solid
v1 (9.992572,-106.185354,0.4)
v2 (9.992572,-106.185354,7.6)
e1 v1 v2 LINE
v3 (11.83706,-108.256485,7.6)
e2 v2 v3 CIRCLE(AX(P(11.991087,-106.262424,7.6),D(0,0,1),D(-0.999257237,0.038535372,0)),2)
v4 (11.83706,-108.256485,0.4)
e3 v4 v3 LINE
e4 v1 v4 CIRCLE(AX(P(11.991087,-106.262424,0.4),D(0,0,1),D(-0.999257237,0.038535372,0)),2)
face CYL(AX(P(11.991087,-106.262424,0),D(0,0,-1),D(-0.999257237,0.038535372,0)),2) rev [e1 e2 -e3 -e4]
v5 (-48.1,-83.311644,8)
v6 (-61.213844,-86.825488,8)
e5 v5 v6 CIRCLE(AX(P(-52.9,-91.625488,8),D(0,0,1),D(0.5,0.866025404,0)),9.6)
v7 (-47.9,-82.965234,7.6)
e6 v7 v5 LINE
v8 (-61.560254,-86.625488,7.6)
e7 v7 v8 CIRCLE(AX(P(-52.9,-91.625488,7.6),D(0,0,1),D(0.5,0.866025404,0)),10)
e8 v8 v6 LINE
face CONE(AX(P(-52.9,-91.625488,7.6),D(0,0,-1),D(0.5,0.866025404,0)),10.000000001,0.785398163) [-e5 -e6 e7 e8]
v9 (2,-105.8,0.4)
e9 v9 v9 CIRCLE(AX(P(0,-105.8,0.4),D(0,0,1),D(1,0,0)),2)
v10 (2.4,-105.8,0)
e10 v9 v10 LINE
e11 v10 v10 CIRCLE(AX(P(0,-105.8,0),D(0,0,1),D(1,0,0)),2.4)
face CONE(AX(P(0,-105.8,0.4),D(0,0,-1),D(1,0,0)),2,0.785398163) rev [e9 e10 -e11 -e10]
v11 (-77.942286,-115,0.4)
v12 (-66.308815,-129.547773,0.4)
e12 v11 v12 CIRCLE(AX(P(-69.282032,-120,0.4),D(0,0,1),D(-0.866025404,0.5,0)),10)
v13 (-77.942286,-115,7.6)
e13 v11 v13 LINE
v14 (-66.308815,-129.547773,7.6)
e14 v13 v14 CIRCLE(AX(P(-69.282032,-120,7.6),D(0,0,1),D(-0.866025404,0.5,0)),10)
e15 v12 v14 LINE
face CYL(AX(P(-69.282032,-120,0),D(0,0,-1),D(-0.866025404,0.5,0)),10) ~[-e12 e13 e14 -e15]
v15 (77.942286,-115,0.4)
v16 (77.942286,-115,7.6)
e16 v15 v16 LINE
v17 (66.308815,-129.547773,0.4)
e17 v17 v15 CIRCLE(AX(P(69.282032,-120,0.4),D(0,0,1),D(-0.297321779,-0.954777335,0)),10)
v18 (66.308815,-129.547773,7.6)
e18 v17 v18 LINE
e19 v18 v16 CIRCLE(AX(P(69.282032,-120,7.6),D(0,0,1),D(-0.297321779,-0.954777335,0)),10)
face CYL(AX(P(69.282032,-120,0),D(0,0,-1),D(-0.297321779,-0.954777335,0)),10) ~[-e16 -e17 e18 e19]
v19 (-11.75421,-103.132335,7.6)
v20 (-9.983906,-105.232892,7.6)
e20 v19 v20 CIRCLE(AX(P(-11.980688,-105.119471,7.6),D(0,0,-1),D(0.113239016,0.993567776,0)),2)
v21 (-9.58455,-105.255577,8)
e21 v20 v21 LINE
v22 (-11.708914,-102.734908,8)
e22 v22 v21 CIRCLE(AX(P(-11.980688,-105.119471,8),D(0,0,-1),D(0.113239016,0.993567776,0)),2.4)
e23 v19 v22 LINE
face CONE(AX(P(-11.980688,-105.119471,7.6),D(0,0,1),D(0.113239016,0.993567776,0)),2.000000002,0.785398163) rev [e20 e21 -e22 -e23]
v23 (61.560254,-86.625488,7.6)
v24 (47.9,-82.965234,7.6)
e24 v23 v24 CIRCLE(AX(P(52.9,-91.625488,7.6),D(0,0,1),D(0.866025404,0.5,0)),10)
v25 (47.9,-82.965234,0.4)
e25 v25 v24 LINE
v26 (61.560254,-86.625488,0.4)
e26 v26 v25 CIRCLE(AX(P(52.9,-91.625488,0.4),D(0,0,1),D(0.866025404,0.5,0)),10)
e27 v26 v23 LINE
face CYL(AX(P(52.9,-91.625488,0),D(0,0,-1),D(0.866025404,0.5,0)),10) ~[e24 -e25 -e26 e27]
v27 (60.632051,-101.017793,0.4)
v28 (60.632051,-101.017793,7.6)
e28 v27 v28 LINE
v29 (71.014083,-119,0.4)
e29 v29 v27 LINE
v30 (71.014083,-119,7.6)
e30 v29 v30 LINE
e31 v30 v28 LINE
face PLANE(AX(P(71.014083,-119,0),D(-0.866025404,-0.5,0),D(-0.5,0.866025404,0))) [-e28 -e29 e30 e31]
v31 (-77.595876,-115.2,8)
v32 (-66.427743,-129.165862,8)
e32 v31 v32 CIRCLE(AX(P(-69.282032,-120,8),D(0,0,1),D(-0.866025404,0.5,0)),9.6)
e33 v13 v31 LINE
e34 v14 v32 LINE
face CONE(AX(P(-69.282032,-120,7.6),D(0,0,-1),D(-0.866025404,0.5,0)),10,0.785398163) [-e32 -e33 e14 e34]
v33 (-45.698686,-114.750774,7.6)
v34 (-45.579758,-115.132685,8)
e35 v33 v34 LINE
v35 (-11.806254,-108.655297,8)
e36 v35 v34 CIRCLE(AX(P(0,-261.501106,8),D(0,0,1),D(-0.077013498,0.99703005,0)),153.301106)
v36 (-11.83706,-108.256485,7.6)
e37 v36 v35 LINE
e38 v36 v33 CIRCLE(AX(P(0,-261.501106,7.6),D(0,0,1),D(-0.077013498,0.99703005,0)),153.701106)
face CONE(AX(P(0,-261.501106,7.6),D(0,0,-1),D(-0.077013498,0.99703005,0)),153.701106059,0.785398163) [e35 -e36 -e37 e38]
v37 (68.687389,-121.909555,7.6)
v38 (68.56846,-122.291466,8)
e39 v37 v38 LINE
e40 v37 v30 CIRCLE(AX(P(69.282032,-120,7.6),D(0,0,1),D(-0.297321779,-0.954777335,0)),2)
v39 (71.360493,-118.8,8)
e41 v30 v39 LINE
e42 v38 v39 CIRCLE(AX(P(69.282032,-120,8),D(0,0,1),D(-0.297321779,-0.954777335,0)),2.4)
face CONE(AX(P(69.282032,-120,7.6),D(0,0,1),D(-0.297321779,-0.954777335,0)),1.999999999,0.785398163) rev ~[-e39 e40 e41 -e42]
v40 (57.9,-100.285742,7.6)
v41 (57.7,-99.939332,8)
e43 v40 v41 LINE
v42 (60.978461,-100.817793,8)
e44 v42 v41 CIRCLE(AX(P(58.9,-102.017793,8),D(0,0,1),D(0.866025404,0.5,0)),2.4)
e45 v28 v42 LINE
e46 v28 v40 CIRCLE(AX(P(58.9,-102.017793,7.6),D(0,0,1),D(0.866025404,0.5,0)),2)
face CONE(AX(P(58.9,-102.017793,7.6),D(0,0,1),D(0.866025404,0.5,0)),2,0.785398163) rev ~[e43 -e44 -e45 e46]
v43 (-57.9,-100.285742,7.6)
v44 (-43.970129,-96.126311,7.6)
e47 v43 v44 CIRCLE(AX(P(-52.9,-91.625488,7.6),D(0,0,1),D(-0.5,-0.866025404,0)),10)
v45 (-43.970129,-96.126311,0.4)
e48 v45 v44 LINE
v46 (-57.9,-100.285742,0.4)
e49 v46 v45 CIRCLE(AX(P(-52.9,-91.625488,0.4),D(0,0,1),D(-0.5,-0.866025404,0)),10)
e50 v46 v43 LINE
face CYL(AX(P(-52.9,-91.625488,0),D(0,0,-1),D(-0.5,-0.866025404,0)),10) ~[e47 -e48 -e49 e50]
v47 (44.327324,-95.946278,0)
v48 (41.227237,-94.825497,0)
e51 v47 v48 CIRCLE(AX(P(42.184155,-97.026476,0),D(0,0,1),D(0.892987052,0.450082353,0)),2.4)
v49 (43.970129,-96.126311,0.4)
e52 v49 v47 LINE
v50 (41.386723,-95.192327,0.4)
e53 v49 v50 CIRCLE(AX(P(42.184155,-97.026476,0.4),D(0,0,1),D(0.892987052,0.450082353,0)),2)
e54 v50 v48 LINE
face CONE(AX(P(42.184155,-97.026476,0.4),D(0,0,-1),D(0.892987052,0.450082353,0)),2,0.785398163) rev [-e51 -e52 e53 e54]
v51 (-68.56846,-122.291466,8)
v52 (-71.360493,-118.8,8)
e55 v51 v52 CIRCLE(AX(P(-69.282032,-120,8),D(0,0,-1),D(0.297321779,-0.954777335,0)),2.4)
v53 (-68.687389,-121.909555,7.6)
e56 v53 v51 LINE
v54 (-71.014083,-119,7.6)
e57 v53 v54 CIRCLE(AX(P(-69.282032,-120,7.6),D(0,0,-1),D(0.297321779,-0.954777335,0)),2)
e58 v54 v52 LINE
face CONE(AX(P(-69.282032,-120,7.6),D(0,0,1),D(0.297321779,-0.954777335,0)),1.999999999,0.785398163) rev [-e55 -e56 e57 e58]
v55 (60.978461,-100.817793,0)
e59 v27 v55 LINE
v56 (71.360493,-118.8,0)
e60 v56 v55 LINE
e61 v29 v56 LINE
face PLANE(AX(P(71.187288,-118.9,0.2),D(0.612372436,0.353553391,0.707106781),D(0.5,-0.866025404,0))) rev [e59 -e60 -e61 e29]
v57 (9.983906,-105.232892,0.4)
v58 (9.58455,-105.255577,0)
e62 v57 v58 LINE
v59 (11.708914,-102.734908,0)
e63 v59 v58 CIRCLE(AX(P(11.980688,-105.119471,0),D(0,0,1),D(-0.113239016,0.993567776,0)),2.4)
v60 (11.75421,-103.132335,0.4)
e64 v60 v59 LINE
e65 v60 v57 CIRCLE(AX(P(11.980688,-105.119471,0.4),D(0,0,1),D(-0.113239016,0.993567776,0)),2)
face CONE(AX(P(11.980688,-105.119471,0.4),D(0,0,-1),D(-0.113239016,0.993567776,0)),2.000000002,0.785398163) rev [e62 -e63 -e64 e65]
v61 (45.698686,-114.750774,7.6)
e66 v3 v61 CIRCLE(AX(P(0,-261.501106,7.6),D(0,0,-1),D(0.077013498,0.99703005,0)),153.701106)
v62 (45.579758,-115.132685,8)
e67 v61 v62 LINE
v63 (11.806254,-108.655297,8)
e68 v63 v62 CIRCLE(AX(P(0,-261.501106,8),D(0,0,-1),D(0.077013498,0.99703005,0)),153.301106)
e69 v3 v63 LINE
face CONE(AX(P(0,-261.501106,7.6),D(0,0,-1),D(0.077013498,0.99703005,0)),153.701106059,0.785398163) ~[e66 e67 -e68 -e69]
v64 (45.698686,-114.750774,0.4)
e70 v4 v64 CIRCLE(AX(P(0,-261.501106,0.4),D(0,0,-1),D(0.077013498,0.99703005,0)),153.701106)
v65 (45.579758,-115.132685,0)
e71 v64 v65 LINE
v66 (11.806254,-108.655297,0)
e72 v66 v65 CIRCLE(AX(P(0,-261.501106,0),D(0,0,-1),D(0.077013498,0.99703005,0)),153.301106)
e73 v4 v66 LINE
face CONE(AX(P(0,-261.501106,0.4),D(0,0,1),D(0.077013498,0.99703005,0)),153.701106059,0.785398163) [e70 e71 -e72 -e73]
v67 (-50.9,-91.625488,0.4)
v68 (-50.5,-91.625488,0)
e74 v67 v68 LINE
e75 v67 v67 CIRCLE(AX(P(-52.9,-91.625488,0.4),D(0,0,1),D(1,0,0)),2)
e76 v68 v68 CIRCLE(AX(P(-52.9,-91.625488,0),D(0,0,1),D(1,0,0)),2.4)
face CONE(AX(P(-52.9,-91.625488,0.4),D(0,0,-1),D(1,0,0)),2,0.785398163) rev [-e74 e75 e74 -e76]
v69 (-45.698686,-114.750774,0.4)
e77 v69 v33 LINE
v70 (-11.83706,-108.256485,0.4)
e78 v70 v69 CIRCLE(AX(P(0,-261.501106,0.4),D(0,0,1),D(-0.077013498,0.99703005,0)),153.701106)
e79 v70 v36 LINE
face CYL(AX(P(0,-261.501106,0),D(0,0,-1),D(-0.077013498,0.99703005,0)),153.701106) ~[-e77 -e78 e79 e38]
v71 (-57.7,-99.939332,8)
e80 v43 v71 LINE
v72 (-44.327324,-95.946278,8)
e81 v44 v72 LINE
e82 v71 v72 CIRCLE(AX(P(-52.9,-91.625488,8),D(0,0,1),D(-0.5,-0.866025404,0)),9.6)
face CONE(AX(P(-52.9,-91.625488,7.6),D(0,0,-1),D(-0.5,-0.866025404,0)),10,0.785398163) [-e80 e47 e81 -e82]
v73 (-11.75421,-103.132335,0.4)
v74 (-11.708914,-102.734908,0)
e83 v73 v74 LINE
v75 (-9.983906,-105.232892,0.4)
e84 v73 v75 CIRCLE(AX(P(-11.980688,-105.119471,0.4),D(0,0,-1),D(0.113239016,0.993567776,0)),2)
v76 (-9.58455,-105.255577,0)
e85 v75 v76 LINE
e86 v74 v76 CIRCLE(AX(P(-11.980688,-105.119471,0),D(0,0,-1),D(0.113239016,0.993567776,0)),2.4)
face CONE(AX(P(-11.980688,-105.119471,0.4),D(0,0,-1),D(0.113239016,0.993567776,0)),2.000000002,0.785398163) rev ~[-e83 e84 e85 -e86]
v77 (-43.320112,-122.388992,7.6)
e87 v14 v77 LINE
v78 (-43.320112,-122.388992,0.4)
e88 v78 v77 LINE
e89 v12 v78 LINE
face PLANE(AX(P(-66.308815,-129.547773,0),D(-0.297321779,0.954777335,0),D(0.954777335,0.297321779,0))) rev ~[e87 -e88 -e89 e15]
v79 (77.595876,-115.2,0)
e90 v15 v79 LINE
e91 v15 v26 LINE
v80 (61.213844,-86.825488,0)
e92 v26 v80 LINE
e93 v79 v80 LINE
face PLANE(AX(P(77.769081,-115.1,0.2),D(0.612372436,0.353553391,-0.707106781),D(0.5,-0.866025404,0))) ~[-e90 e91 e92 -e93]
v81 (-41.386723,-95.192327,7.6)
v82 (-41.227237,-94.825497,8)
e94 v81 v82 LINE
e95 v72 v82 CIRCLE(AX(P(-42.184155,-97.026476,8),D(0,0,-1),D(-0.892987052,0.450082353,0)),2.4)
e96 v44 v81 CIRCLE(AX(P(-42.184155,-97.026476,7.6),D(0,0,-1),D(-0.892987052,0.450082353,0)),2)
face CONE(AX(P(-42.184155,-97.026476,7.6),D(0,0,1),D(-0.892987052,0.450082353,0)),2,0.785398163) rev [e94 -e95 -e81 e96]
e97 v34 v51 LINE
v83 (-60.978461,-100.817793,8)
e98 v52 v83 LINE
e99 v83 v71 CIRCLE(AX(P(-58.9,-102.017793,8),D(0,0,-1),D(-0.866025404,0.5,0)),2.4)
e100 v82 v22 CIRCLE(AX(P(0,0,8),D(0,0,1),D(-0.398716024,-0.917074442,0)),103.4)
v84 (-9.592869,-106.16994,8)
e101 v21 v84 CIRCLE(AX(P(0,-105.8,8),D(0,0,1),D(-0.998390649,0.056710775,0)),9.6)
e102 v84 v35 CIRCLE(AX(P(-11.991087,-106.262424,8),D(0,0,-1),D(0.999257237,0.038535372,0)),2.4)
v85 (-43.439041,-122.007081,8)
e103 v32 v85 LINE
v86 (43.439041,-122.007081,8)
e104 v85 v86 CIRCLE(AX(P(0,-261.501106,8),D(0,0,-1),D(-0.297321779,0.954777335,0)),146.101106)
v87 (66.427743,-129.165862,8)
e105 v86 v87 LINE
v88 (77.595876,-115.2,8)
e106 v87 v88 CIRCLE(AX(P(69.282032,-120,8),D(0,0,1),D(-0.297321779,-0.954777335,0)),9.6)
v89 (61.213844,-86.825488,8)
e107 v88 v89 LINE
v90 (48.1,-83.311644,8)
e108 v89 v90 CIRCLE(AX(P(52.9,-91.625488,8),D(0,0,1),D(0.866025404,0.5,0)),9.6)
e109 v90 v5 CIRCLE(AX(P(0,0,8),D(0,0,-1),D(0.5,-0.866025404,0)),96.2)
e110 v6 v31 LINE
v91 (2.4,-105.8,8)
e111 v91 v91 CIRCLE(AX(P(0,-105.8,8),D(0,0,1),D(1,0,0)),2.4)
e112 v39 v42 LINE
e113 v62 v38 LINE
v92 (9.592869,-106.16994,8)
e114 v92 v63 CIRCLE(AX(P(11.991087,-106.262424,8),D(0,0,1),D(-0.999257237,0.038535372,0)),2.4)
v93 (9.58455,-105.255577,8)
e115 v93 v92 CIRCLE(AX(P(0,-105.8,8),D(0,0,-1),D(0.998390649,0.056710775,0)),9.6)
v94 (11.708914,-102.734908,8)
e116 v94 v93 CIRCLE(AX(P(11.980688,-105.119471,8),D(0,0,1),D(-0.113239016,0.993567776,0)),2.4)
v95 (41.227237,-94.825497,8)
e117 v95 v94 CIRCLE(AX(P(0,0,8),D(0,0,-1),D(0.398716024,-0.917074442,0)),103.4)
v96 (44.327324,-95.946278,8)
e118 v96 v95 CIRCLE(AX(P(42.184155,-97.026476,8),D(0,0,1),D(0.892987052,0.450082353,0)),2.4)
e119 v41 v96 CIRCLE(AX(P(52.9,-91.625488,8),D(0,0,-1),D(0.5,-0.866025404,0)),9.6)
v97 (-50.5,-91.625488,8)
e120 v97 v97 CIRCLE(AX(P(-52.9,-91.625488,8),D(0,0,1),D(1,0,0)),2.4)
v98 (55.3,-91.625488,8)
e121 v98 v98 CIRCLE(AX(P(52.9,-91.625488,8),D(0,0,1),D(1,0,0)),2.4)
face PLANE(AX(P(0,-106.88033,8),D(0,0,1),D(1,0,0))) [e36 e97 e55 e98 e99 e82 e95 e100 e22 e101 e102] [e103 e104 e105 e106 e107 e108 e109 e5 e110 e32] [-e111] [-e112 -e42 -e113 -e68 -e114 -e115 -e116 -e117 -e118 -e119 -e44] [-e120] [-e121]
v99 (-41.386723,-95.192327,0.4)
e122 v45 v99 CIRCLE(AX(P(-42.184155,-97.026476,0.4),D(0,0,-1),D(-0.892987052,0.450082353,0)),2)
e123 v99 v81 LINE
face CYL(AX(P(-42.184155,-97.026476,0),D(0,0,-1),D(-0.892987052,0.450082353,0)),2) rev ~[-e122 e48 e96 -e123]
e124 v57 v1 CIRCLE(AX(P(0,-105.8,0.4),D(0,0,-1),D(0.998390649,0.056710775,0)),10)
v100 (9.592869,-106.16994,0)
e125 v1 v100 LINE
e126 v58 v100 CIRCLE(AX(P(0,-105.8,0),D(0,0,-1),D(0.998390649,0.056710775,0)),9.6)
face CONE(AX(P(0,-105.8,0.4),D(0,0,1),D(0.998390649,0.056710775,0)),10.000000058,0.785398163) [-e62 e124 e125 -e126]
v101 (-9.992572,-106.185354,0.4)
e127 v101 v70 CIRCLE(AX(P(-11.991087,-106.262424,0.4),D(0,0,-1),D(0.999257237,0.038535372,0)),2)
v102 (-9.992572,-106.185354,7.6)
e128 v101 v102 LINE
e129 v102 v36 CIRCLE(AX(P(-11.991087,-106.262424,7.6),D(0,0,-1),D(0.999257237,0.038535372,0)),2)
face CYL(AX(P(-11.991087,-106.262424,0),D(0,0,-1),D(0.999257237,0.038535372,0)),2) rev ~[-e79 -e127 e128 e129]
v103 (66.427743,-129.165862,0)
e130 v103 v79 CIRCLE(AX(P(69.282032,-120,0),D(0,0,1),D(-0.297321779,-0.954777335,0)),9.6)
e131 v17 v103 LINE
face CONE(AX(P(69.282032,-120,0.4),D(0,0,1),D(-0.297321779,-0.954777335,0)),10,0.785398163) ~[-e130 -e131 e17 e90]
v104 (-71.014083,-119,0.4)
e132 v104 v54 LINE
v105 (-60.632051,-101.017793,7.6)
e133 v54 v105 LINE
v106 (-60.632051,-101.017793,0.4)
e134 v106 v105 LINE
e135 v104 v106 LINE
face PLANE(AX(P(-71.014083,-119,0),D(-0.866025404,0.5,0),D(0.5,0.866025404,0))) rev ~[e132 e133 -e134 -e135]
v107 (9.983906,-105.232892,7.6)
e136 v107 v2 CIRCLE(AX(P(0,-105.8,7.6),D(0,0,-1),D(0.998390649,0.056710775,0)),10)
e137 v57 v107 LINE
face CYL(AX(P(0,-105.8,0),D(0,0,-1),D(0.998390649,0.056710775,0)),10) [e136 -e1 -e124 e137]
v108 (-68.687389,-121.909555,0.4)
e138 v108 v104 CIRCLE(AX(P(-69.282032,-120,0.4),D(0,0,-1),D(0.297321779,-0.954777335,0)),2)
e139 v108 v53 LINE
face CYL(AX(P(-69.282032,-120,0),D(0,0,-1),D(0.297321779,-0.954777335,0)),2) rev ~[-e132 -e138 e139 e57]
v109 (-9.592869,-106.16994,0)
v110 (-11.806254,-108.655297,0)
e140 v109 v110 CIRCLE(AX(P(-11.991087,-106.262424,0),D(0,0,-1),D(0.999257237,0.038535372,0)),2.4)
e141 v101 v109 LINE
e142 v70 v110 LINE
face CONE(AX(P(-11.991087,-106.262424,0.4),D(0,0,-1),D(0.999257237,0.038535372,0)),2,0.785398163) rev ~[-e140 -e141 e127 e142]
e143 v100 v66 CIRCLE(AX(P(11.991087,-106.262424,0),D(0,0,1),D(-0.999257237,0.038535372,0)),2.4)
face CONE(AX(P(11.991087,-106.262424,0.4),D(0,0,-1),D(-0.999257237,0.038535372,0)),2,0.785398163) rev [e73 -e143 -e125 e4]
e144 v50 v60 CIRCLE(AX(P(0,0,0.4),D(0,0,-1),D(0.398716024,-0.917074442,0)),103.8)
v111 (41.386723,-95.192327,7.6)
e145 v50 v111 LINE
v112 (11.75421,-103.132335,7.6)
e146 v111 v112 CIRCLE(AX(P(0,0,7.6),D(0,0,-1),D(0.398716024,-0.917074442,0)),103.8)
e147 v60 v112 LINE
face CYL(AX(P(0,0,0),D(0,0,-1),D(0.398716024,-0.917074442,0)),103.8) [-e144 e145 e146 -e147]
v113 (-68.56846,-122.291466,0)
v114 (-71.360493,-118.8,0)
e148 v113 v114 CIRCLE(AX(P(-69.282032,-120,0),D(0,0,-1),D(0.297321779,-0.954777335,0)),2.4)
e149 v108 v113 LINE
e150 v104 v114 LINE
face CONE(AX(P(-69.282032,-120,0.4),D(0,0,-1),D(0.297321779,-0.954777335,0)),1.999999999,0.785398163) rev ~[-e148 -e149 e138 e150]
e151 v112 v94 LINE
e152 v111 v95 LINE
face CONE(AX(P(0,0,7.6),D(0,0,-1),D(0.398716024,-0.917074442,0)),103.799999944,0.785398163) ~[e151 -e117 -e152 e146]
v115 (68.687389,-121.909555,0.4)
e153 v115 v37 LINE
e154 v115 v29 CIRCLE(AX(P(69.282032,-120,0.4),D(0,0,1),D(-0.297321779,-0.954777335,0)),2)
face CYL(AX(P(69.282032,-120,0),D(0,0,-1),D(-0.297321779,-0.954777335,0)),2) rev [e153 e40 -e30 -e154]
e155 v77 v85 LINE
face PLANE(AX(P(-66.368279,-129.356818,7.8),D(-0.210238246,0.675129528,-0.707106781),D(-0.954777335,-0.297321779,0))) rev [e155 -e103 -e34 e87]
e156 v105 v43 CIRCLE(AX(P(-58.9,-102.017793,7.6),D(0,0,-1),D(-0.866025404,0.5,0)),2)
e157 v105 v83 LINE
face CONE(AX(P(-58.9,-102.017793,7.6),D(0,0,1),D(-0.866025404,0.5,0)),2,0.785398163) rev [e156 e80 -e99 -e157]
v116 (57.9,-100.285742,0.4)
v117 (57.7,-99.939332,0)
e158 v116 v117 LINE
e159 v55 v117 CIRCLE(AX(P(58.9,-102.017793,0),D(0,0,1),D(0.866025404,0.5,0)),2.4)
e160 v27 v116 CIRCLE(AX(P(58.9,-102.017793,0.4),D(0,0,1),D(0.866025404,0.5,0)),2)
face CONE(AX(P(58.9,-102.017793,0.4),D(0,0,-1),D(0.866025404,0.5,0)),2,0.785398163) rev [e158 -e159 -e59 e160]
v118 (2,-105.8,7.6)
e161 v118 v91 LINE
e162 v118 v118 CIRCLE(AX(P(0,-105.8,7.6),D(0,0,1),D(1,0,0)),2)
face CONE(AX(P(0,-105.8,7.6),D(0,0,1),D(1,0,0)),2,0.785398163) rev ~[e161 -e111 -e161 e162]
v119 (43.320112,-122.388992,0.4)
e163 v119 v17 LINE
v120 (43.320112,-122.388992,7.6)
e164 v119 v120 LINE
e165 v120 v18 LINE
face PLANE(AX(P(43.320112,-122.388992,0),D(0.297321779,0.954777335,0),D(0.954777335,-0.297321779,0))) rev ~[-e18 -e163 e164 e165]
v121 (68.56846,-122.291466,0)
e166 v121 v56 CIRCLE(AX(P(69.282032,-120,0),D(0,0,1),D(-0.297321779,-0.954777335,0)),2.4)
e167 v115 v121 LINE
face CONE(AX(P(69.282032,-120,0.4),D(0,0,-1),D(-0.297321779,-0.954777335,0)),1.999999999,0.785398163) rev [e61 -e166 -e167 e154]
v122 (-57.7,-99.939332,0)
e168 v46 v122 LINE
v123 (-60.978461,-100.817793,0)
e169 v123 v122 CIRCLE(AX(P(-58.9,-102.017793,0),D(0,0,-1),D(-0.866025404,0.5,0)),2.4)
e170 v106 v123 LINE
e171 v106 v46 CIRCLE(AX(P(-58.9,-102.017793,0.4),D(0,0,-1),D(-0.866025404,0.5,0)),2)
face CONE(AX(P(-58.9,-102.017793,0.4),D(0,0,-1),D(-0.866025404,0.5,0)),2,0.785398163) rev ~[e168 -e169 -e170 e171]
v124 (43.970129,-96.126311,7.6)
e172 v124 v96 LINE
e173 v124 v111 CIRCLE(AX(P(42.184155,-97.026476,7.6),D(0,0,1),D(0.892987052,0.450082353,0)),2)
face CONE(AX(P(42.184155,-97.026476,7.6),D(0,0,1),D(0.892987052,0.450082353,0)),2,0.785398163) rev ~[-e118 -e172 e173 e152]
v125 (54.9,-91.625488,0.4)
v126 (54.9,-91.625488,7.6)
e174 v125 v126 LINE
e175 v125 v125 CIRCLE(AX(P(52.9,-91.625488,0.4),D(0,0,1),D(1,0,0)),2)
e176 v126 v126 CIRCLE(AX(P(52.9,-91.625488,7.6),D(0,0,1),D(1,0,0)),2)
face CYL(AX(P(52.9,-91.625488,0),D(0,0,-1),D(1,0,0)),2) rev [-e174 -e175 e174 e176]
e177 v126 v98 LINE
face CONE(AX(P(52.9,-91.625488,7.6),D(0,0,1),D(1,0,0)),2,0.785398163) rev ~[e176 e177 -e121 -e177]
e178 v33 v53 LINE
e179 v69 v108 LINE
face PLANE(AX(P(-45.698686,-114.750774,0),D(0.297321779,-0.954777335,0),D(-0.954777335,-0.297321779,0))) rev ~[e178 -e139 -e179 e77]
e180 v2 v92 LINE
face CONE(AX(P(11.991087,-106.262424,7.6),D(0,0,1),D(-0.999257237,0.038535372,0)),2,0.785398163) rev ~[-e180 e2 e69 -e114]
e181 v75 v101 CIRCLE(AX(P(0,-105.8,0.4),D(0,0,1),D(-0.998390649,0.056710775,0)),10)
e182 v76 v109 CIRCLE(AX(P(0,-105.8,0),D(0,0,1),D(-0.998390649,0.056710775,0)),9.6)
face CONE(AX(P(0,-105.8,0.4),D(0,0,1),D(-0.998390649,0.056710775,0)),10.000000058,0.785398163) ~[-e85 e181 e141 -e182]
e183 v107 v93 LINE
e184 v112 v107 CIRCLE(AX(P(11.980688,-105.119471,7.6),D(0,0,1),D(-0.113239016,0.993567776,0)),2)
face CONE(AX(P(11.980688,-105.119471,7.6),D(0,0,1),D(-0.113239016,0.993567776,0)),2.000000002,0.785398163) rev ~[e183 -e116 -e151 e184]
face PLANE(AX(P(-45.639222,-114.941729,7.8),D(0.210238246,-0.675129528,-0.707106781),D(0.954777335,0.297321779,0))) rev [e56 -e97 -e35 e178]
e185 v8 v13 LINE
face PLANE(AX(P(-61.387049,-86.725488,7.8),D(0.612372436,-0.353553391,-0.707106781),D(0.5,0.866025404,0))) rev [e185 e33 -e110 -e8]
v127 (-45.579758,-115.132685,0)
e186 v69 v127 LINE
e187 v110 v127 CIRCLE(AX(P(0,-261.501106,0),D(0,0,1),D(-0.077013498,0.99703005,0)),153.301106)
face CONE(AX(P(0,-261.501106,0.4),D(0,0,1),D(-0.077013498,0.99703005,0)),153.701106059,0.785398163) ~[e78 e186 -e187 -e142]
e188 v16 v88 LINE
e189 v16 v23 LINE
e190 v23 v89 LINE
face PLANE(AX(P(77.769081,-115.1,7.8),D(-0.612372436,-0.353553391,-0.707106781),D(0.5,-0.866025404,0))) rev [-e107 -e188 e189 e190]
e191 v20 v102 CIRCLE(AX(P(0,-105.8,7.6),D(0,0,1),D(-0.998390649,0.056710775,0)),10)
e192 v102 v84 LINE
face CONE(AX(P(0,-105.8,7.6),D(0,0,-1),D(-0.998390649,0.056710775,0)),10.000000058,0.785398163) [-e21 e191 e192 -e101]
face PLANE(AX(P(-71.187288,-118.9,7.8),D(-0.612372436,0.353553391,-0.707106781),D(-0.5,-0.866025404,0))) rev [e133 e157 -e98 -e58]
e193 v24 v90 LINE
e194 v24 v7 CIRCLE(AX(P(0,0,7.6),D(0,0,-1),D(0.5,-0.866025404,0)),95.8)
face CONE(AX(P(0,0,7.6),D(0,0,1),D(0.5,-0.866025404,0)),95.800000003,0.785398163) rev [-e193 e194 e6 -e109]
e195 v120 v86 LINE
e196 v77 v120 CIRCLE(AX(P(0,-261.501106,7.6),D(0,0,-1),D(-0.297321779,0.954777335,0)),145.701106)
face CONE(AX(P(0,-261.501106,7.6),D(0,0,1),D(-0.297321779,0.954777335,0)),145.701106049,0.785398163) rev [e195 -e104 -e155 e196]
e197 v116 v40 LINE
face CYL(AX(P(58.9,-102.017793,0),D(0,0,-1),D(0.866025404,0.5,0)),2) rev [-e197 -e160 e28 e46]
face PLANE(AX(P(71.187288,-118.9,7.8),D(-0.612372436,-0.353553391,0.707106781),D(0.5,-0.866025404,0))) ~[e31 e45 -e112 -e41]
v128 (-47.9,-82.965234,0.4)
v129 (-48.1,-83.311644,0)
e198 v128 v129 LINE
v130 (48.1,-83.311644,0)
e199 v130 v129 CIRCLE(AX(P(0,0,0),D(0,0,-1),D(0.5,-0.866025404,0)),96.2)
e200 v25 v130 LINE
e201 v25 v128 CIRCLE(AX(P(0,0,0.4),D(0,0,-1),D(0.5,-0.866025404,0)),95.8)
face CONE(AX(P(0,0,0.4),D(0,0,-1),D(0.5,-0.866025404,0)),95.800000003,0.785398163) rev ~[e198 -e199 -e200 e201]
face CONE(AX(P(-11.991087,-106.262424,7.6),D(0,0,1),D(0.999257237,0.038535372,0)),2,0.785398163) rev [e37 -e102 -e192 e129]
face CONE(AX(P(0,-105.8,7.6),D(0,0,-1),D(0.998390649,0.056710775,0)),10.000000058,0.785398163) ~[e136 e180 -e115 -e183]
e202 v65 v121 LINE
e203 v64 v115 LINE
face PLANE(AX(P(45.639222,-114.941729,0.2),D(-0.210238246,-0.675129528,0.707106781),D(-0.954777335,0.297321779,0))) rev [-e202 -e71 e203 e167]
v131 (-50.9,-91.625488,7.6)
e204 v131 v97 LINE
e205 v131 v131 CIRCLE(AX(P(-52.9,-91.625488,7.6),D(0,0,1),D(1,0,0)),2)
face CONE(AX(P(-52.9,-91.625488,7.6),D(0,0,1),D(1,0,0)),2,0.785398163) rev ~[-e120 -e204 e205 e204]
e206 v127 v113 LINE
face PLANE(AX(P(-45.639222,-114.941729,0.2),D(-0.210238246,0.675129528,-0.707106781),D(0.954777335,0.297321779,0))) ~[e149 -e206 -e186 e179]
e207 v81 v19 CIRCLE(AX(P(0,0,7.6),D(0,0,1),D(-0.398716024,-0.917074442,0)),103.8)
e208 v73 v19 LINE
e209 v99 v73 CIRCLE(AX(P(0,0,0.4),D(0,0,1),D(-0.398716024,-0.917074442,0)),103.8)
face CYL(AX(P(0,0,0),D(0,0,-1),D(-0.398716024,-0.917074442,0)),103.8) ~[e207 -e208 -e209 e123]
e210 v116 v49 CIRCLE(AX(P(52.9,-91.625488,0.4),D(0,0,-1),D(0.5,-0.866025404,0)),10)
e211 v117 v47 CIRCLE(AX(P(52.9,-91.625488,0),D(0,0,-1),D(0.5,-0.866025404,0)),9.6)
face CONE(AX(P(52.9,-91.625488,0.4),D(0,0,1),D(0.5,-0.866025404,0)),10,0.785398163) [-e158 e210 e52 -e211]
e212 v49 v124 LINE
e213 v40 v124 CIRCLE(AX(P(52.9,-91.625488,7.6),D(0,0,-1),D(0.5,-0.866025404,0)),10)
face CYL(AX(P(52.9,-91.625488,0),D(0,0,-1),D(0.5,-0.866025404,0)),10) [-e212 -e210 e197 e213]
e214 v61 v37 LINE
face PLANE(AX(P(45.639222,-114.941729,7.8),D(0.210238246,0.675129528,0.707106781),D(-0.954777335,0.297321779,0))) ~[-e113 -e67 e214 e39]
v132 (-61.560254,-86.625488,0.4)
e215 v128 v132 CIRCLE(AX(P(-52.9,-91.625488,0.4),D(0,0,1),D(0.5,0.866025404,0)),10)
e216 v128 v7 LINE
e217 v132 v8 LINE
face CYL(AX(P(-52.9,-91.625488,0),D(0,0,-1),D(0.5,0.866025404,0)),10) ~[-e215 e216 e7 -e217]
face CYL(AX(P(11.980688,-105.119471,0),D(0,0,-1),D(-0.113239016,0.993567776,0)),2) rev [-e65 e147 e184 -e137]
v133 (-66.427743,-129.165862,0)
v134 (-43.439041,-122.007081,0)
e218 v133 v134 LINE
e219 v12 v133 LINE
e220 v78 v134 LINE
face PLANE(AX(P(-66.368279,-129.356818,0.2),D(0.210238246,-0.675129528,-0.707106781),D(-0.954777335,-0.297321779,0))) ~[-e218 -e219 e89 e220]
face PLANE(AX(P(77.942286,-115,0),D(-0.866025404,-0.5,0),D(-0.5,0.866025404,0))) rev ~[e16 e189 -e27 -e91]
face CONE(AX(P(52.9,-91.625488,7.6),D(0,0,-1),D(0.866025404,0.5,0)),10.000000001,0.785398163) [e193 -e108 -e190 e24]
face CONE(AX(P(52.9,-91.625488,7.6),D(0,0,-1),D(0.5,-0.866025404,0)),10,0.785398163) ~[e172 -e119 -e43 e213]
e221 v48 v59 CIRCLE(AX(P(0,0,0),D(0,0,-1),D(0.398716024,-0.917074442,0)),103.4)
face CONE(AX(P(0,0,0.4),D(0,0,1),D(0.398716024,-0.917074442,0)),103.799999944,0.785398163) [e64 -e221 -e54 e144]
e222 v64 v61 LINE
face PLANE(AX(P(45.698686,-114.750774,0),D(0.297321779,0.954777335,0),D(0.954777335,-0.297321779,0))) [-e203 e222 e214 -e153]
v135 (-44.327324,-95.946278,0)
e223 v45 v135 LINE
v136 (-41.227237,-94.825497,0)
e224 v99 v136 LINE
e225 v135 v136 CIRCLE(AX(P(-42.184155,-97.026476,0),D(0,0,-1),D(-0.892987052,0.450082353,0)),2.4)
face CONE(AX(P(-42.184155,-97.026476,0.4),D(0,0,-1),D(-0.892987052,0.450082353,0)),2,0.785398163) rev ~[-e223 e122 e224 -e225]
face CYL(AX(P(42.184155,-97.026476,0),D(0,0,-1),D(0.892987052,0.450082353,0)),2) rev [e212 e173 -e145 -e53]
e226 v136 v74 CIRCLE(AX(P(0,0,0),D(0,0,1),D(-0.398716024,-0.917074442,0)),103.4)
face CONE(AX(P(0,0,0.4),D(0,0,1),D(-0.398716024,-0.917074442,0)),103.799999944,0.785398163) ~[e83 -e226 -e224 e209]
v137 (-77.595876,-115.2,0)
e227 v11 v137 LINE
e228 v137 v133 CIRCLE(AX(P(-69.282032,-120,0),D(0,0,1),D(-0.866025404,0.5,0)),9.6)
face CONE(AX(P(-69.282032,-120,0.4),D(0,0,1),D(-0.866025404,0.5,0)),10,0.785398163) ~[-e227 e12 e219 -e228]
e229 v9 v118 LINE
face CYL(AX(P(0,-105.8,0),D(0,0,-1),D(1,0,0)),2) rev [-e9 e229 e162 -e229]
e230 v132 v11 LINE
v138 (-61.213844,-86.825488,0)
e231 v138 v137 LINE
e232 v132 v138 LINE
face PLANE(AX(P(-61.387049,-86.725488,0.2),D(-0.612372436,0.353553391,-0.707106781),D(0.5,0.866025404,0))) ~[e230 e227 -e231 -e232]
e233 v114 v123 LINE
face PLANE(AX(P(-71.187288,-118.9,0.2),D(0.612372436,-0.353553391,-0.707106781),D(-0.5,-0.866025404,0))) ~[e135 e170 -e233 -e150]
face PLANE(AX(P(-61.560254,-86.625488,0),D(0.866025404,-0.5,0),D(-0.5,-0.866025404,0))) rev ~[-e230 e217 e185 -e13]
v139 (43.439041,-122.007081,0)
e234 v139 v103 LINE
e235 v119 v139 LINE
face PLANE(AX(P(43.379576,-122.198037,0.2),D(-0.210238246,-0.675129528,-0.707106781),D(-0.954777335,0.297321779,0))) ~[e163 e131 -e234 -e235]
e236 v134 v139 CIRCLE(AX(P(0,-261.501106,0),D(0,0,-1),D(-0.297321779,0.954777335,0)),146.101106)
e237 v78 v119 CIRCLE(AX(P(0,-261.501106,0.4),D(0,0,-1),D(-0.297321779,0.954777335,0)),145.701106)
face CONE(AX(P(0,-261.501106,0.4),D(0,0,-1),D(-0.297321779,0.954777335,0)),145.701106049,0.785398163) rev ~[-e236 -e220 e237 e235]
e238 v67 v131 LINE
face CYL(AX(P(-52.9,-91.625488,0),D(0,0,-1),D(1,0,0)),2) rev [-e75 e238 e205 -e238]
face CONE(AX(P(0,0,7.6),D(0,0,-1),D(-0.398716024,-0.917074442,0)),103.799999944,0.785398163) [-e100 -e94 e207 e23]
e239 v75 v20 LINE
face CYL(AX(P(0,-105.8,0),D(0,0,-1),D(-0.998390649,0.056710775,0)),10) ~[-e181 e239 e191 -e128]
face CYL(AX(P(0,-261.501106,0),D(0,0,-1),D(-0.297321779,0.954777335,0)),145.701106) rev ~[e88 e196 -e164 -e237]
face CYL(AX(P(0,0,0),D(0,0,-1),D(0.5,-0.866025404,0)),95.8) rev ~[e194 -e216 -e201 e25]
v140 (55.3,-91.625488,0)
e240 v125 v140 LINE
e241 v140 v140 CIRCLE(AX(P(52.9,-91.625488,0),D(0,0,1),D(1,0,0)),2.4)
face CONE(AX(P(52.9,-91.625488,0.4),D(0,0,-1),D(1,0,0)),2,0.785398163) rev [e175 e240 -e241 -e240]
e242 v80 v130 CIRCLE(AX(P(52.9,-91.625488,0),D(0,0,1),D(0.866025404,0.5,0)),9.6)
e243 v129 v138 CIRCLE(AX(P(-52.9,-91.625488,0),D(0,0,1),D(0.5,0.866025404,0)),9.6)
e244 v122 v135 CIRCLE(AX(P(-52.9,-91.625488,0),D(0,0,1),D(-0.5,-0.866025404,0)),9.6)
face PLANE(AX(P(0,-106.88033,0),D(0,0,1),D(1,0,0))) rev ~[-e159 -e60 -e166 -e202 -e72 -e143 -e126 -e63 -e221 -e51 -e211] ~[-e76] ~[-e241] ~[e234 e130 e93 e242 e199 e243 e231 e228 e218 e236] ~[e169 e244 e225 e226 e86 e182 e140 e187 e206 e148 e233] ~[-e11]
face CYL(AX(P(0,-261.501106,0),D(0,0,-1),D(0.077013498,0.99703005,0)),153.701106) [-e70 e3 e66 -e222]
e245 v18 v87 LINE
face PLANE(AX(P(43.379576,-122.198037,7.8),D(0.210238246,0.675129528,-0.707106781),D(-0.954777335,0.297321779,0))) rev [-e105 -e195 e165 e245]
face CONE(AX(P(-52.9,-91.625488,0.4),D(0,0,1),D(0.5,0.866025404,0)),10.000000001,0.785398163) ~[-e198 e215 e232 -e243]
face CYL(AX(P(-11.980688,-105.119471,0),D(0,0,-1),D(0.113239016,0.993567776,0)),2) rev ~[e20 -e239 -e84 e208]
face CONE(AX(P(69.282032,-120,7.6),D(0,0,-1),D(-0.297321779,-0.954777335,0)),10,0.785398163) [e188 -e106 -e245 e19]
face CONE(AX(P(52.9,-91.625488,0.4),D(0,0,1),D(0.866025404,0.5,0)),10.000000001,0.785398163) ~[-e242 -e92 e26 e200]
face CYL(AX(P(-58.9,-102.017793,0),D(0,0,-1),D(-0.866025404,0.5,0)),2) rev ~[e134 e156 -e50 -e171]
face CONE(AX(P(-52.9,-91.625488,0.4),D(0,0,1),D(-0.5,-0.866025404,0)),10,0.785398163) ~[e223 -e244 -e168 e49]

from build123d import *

# Parameters (mm, degrees)
SKETCH1_R           = 2
BOSS_EXTRUDE1_DEPTH = 8
CHAMFER1_SIZE       = 0.4


with BuildPart() as part:
    # Sketch1 → Boss-Extrude1 (new body)
    with BuildSketch(Plane.XY):
        with BuildLine():
            Line((-66.308814514, -129.547773352), (-43.320112037, -122.388992281))
            ThreePointArc((-43.320112037, -122.388992281), (0, -115.8), (43.320112037, -122.388992281))
            Line((43.320112037, -122.388992281), (66.308814514, -129.547773352))
            ThreePointArc((66.308814514, -129.547773352), (77.091963333, -126.245396489), (77.942286341, -115))
            Line((77.942286341, -115), (61.560254038, -86.62548772))
            ThreePointArc((61.560254038, -86.62548772), (55.488190451, -81.966229458), (47.9, -82.965233683))
            ThreePointArc((47.9, -82.965233683), (0, -95.8), (-47.9, -82.965233683))
            ThreePointArc((-47.9, -82.965233683), (-55.488190451, -81.966229458), (-61.560254038, -86.62548772))
            Line((-61.560254038, -86.62548772), (-77.942286341, -115))
            ThreePointArc((-77.942286341, -115), (-77.091963333, -126.245396489), (-66.308814514, -129.547773352))
        make_face()
        with Locations((-52.9, -91.62548772)):
            Circle(SKETCH1_R, mode=Mode.SUBTRACT)
        with Locations((0, -105.8)):
            Circle(SKETCH1_R, mode=Mode.SUBTRACT)
        with Locations((52.9, -91.62548772)):
            Circle(SKETCH1_R, mode=Mode.SUBTRACT)
        with BuildLine():
            Line((-71.01408311, -119), (-60.632050808, -101.017792566))
            ThreePointArc((-60.632050808, -101.017792566), (-59.41763809, -100.085940913), (-57.9, -100.285741758))
            ThreePointArc((-57.9, -100.285741758), (-50.03884881, -101.207440229), (-43.970129475, -96.126311247))
            ThreePointArc((-43.970129475, -96.126311247), (-42.86414468, -95.145621216), (-41.386723322, -95.192327068))
            ThreePointArc((-41.386723322, -95.192327068), (-26.865416882, -100.263100769), (-11.754209758, -103.132335147))
            ThreePointArc((-11.754209758, -103.132335147), (-10.451372404, -103.830597372), (-9.98390649, -105.23289225))
            ThreePointArc((-9.98390649, -105.23289225), (-9.999586121, -105.709019747), (-9.992572367, -106.185353717))
            ThreePointArc((-9.992572367, -106.185353717), (-10.497515805, -107.592554365), (-11.837059844, -108.256484561))
            ThreePointArc((-11.837059844, -108.256484561), (-28.950552114, -110.551129126), (-45.698686268, -114.750773599))
            Line((-45.698686268, -114.750773599), (-68.687388745, -121.90955467))
            ThreePointArc((-68.687388745, -121.90955467), (-70.844018509, -121.249079298), (-71.01408311, -119))
        make_face(mode=Mode.SUBTRACT)
        with BuildLine():
            Line((71.01408311, -119), (60.632050808, -101.017792566))
            ThreePointArc((60.632050808, -101.017792566), (59.41763809, -100.085940913), (57.9, -100.285741758))
            ThreePointArc((57.9, -100.285741758), (50.03884881, -101.207440229), (43.970129475, -96.126311247))
            ThreePointArc((43.970129475, -96.126311247), (42.86414468, -95.145621216), (41.386723322, -95.192327068))
            ThreePointArc((41.386723322, -95.192327068), (26.865416882, -100.263100769), (11.754209758, -103.132335147))
            ThreePointArc((11.754209758, -103.132335147), (10.451372404, -103.830597372), (9.98390649, -105.23289225))
            ThreePointArc((9.98390649, -105.23289225), (9.999586121, -105.709019747), (9.992572367, -106.185353717))
            ThreePointArc((9.992572367, -106.185353717), (10.497515805, -107.592554365), (11.837059844, -108.256484561))
            ThreePointArc((11.837059844, -108.256484561), (28.950552114, -110.551129126), (45.698686268, -114.750773599))
            Line((45.698686268, -114.750773599), (68.687388745, -121.90955467))
            ThreePointArc((68.687388745, -121.90955467), (70.844018509, -121.249079298), (71.01408311, -119))
        make_face(mode=Mode.SUBTRACT)
    extrude(amount=BOSS_EXTRUDE1_DEPTH)

    # Chamfer1
    chamfer1_edges = [part.edges().sort_by_distance(p)[0] for p in [
        (-69.751270189, -100.81274386, 0),
        (-55.488190451, -81.966229458, 0),
        (0, -95.8, 0),
        (55.488190451, -81.966229458, 0),
        (69.751270189, -100.81274386, 0),
        (77.091963333, -126.245396489, 0),
        (54.814463276, -125.968382816, 0),
        (0, -115.8, 8),
        (0, -115.8, 0),
        (-54.814463276, -125.968382816, 0),
        (-77.091963333, -126.245396489, 0),
        (54.814463276, -125.968382816, 8),
        (77.091963333, -126.245396489, 8),
        (69.751270189, -100.81274386, 8),
        (-54.9, -91.62548772, 0),
        (-54.9, -91.62548772, 8),
        (55.488190451, -81.966229458, 8),
        (-2, -105.8, 0),
        (-2, -105.8, 8),
        (0, -95.8, 8),
        (50.9, -91.62548772, 0),
        (50.9, -91.62548772, 8),
        (-55.488190451, -81.966229458, 8),
        (-69.751270189, -100.81274386, 8),
        (-70.844018509, -121.249079298, 0),
        (-57.193037507, -118.330164135, 0),
        (-28.950552114, -110.551129126, 0),
        (-10.497515805, -107.592554365, 0),
        (-9.999586121, -105.709019747, 0),
        (-10.451372404, -103.830597372, 0),
        (-26.865416882, -100.263100769, 0),
        (-42.86414468, -95.145621216, 0),
        (-50.03884881, -101.207440229, 0),
        (-59.41763809, -100.085940913, 0),
        (-77.091963333, -126.245396489, 8),
        (-65.823066959, -110.008896283, 0),
        (-70.844018509, -121.249079298, 8),
        (-57.193037507, -118.330164135, 8),
        (-28.950552114, -110.551129126, 8),
        (-10.497515805, -107.592554365, 8),
        (-9.999586121, -105.709019747, 8),
        (-10.451372404, -103.830597372, 8),
        (-26.865416882, -100.263100769, 8),
        (-42.86414468, -95.145621216, 8),
        (-50.03884881, -101.207440229, 8),
        (-59.41763809, -100.085940913, 8),
        (-65.823066959, -110.008896283, 8),
        (28.950552114, -110.551129126, 0),
        (57.193037507, -118.330164135, 0),
        (70.844018509, -121.249079298, 0),
        (65.823066959, -110.008896283, 0),
        (59.41763809, -100.085940913, 0),
        (50.03884881, -101.207440229, 0),
        (42.86414468, -95.145621216, 0),
        (26.865416882, -100.263100769, 0),
        (10.451372404, -103.830597372, 0),
        (9.999586121, -105.709019747, 0),
        (10.497515805, -107.592554365, 0),
        (28.950552114, -110.551129126, 8),
        (57.193037507, -118.330164135, 8),
        (70.844018509, -121.249079298, 8),
        (65.823066959, -110.008896283, 8),
        (59.41763809, -100.085940913, 8),
        (50.03884881, -101.207440229, 8),
        (42.86414468, -95.145621216, 8),
        (26.865416882, -100.263100769, 8),
        (10.451372404, -103.830597372, 8),
        (9.999586121, -105.709019747, 8),
        (10.497515805, -107.592554365, 8),
        (-54.814463276, -125.968382816, 8),
    ]]
    chamfer(chamfer1_edges, length=CHAMFER1_SIZE)


solid = part.part
